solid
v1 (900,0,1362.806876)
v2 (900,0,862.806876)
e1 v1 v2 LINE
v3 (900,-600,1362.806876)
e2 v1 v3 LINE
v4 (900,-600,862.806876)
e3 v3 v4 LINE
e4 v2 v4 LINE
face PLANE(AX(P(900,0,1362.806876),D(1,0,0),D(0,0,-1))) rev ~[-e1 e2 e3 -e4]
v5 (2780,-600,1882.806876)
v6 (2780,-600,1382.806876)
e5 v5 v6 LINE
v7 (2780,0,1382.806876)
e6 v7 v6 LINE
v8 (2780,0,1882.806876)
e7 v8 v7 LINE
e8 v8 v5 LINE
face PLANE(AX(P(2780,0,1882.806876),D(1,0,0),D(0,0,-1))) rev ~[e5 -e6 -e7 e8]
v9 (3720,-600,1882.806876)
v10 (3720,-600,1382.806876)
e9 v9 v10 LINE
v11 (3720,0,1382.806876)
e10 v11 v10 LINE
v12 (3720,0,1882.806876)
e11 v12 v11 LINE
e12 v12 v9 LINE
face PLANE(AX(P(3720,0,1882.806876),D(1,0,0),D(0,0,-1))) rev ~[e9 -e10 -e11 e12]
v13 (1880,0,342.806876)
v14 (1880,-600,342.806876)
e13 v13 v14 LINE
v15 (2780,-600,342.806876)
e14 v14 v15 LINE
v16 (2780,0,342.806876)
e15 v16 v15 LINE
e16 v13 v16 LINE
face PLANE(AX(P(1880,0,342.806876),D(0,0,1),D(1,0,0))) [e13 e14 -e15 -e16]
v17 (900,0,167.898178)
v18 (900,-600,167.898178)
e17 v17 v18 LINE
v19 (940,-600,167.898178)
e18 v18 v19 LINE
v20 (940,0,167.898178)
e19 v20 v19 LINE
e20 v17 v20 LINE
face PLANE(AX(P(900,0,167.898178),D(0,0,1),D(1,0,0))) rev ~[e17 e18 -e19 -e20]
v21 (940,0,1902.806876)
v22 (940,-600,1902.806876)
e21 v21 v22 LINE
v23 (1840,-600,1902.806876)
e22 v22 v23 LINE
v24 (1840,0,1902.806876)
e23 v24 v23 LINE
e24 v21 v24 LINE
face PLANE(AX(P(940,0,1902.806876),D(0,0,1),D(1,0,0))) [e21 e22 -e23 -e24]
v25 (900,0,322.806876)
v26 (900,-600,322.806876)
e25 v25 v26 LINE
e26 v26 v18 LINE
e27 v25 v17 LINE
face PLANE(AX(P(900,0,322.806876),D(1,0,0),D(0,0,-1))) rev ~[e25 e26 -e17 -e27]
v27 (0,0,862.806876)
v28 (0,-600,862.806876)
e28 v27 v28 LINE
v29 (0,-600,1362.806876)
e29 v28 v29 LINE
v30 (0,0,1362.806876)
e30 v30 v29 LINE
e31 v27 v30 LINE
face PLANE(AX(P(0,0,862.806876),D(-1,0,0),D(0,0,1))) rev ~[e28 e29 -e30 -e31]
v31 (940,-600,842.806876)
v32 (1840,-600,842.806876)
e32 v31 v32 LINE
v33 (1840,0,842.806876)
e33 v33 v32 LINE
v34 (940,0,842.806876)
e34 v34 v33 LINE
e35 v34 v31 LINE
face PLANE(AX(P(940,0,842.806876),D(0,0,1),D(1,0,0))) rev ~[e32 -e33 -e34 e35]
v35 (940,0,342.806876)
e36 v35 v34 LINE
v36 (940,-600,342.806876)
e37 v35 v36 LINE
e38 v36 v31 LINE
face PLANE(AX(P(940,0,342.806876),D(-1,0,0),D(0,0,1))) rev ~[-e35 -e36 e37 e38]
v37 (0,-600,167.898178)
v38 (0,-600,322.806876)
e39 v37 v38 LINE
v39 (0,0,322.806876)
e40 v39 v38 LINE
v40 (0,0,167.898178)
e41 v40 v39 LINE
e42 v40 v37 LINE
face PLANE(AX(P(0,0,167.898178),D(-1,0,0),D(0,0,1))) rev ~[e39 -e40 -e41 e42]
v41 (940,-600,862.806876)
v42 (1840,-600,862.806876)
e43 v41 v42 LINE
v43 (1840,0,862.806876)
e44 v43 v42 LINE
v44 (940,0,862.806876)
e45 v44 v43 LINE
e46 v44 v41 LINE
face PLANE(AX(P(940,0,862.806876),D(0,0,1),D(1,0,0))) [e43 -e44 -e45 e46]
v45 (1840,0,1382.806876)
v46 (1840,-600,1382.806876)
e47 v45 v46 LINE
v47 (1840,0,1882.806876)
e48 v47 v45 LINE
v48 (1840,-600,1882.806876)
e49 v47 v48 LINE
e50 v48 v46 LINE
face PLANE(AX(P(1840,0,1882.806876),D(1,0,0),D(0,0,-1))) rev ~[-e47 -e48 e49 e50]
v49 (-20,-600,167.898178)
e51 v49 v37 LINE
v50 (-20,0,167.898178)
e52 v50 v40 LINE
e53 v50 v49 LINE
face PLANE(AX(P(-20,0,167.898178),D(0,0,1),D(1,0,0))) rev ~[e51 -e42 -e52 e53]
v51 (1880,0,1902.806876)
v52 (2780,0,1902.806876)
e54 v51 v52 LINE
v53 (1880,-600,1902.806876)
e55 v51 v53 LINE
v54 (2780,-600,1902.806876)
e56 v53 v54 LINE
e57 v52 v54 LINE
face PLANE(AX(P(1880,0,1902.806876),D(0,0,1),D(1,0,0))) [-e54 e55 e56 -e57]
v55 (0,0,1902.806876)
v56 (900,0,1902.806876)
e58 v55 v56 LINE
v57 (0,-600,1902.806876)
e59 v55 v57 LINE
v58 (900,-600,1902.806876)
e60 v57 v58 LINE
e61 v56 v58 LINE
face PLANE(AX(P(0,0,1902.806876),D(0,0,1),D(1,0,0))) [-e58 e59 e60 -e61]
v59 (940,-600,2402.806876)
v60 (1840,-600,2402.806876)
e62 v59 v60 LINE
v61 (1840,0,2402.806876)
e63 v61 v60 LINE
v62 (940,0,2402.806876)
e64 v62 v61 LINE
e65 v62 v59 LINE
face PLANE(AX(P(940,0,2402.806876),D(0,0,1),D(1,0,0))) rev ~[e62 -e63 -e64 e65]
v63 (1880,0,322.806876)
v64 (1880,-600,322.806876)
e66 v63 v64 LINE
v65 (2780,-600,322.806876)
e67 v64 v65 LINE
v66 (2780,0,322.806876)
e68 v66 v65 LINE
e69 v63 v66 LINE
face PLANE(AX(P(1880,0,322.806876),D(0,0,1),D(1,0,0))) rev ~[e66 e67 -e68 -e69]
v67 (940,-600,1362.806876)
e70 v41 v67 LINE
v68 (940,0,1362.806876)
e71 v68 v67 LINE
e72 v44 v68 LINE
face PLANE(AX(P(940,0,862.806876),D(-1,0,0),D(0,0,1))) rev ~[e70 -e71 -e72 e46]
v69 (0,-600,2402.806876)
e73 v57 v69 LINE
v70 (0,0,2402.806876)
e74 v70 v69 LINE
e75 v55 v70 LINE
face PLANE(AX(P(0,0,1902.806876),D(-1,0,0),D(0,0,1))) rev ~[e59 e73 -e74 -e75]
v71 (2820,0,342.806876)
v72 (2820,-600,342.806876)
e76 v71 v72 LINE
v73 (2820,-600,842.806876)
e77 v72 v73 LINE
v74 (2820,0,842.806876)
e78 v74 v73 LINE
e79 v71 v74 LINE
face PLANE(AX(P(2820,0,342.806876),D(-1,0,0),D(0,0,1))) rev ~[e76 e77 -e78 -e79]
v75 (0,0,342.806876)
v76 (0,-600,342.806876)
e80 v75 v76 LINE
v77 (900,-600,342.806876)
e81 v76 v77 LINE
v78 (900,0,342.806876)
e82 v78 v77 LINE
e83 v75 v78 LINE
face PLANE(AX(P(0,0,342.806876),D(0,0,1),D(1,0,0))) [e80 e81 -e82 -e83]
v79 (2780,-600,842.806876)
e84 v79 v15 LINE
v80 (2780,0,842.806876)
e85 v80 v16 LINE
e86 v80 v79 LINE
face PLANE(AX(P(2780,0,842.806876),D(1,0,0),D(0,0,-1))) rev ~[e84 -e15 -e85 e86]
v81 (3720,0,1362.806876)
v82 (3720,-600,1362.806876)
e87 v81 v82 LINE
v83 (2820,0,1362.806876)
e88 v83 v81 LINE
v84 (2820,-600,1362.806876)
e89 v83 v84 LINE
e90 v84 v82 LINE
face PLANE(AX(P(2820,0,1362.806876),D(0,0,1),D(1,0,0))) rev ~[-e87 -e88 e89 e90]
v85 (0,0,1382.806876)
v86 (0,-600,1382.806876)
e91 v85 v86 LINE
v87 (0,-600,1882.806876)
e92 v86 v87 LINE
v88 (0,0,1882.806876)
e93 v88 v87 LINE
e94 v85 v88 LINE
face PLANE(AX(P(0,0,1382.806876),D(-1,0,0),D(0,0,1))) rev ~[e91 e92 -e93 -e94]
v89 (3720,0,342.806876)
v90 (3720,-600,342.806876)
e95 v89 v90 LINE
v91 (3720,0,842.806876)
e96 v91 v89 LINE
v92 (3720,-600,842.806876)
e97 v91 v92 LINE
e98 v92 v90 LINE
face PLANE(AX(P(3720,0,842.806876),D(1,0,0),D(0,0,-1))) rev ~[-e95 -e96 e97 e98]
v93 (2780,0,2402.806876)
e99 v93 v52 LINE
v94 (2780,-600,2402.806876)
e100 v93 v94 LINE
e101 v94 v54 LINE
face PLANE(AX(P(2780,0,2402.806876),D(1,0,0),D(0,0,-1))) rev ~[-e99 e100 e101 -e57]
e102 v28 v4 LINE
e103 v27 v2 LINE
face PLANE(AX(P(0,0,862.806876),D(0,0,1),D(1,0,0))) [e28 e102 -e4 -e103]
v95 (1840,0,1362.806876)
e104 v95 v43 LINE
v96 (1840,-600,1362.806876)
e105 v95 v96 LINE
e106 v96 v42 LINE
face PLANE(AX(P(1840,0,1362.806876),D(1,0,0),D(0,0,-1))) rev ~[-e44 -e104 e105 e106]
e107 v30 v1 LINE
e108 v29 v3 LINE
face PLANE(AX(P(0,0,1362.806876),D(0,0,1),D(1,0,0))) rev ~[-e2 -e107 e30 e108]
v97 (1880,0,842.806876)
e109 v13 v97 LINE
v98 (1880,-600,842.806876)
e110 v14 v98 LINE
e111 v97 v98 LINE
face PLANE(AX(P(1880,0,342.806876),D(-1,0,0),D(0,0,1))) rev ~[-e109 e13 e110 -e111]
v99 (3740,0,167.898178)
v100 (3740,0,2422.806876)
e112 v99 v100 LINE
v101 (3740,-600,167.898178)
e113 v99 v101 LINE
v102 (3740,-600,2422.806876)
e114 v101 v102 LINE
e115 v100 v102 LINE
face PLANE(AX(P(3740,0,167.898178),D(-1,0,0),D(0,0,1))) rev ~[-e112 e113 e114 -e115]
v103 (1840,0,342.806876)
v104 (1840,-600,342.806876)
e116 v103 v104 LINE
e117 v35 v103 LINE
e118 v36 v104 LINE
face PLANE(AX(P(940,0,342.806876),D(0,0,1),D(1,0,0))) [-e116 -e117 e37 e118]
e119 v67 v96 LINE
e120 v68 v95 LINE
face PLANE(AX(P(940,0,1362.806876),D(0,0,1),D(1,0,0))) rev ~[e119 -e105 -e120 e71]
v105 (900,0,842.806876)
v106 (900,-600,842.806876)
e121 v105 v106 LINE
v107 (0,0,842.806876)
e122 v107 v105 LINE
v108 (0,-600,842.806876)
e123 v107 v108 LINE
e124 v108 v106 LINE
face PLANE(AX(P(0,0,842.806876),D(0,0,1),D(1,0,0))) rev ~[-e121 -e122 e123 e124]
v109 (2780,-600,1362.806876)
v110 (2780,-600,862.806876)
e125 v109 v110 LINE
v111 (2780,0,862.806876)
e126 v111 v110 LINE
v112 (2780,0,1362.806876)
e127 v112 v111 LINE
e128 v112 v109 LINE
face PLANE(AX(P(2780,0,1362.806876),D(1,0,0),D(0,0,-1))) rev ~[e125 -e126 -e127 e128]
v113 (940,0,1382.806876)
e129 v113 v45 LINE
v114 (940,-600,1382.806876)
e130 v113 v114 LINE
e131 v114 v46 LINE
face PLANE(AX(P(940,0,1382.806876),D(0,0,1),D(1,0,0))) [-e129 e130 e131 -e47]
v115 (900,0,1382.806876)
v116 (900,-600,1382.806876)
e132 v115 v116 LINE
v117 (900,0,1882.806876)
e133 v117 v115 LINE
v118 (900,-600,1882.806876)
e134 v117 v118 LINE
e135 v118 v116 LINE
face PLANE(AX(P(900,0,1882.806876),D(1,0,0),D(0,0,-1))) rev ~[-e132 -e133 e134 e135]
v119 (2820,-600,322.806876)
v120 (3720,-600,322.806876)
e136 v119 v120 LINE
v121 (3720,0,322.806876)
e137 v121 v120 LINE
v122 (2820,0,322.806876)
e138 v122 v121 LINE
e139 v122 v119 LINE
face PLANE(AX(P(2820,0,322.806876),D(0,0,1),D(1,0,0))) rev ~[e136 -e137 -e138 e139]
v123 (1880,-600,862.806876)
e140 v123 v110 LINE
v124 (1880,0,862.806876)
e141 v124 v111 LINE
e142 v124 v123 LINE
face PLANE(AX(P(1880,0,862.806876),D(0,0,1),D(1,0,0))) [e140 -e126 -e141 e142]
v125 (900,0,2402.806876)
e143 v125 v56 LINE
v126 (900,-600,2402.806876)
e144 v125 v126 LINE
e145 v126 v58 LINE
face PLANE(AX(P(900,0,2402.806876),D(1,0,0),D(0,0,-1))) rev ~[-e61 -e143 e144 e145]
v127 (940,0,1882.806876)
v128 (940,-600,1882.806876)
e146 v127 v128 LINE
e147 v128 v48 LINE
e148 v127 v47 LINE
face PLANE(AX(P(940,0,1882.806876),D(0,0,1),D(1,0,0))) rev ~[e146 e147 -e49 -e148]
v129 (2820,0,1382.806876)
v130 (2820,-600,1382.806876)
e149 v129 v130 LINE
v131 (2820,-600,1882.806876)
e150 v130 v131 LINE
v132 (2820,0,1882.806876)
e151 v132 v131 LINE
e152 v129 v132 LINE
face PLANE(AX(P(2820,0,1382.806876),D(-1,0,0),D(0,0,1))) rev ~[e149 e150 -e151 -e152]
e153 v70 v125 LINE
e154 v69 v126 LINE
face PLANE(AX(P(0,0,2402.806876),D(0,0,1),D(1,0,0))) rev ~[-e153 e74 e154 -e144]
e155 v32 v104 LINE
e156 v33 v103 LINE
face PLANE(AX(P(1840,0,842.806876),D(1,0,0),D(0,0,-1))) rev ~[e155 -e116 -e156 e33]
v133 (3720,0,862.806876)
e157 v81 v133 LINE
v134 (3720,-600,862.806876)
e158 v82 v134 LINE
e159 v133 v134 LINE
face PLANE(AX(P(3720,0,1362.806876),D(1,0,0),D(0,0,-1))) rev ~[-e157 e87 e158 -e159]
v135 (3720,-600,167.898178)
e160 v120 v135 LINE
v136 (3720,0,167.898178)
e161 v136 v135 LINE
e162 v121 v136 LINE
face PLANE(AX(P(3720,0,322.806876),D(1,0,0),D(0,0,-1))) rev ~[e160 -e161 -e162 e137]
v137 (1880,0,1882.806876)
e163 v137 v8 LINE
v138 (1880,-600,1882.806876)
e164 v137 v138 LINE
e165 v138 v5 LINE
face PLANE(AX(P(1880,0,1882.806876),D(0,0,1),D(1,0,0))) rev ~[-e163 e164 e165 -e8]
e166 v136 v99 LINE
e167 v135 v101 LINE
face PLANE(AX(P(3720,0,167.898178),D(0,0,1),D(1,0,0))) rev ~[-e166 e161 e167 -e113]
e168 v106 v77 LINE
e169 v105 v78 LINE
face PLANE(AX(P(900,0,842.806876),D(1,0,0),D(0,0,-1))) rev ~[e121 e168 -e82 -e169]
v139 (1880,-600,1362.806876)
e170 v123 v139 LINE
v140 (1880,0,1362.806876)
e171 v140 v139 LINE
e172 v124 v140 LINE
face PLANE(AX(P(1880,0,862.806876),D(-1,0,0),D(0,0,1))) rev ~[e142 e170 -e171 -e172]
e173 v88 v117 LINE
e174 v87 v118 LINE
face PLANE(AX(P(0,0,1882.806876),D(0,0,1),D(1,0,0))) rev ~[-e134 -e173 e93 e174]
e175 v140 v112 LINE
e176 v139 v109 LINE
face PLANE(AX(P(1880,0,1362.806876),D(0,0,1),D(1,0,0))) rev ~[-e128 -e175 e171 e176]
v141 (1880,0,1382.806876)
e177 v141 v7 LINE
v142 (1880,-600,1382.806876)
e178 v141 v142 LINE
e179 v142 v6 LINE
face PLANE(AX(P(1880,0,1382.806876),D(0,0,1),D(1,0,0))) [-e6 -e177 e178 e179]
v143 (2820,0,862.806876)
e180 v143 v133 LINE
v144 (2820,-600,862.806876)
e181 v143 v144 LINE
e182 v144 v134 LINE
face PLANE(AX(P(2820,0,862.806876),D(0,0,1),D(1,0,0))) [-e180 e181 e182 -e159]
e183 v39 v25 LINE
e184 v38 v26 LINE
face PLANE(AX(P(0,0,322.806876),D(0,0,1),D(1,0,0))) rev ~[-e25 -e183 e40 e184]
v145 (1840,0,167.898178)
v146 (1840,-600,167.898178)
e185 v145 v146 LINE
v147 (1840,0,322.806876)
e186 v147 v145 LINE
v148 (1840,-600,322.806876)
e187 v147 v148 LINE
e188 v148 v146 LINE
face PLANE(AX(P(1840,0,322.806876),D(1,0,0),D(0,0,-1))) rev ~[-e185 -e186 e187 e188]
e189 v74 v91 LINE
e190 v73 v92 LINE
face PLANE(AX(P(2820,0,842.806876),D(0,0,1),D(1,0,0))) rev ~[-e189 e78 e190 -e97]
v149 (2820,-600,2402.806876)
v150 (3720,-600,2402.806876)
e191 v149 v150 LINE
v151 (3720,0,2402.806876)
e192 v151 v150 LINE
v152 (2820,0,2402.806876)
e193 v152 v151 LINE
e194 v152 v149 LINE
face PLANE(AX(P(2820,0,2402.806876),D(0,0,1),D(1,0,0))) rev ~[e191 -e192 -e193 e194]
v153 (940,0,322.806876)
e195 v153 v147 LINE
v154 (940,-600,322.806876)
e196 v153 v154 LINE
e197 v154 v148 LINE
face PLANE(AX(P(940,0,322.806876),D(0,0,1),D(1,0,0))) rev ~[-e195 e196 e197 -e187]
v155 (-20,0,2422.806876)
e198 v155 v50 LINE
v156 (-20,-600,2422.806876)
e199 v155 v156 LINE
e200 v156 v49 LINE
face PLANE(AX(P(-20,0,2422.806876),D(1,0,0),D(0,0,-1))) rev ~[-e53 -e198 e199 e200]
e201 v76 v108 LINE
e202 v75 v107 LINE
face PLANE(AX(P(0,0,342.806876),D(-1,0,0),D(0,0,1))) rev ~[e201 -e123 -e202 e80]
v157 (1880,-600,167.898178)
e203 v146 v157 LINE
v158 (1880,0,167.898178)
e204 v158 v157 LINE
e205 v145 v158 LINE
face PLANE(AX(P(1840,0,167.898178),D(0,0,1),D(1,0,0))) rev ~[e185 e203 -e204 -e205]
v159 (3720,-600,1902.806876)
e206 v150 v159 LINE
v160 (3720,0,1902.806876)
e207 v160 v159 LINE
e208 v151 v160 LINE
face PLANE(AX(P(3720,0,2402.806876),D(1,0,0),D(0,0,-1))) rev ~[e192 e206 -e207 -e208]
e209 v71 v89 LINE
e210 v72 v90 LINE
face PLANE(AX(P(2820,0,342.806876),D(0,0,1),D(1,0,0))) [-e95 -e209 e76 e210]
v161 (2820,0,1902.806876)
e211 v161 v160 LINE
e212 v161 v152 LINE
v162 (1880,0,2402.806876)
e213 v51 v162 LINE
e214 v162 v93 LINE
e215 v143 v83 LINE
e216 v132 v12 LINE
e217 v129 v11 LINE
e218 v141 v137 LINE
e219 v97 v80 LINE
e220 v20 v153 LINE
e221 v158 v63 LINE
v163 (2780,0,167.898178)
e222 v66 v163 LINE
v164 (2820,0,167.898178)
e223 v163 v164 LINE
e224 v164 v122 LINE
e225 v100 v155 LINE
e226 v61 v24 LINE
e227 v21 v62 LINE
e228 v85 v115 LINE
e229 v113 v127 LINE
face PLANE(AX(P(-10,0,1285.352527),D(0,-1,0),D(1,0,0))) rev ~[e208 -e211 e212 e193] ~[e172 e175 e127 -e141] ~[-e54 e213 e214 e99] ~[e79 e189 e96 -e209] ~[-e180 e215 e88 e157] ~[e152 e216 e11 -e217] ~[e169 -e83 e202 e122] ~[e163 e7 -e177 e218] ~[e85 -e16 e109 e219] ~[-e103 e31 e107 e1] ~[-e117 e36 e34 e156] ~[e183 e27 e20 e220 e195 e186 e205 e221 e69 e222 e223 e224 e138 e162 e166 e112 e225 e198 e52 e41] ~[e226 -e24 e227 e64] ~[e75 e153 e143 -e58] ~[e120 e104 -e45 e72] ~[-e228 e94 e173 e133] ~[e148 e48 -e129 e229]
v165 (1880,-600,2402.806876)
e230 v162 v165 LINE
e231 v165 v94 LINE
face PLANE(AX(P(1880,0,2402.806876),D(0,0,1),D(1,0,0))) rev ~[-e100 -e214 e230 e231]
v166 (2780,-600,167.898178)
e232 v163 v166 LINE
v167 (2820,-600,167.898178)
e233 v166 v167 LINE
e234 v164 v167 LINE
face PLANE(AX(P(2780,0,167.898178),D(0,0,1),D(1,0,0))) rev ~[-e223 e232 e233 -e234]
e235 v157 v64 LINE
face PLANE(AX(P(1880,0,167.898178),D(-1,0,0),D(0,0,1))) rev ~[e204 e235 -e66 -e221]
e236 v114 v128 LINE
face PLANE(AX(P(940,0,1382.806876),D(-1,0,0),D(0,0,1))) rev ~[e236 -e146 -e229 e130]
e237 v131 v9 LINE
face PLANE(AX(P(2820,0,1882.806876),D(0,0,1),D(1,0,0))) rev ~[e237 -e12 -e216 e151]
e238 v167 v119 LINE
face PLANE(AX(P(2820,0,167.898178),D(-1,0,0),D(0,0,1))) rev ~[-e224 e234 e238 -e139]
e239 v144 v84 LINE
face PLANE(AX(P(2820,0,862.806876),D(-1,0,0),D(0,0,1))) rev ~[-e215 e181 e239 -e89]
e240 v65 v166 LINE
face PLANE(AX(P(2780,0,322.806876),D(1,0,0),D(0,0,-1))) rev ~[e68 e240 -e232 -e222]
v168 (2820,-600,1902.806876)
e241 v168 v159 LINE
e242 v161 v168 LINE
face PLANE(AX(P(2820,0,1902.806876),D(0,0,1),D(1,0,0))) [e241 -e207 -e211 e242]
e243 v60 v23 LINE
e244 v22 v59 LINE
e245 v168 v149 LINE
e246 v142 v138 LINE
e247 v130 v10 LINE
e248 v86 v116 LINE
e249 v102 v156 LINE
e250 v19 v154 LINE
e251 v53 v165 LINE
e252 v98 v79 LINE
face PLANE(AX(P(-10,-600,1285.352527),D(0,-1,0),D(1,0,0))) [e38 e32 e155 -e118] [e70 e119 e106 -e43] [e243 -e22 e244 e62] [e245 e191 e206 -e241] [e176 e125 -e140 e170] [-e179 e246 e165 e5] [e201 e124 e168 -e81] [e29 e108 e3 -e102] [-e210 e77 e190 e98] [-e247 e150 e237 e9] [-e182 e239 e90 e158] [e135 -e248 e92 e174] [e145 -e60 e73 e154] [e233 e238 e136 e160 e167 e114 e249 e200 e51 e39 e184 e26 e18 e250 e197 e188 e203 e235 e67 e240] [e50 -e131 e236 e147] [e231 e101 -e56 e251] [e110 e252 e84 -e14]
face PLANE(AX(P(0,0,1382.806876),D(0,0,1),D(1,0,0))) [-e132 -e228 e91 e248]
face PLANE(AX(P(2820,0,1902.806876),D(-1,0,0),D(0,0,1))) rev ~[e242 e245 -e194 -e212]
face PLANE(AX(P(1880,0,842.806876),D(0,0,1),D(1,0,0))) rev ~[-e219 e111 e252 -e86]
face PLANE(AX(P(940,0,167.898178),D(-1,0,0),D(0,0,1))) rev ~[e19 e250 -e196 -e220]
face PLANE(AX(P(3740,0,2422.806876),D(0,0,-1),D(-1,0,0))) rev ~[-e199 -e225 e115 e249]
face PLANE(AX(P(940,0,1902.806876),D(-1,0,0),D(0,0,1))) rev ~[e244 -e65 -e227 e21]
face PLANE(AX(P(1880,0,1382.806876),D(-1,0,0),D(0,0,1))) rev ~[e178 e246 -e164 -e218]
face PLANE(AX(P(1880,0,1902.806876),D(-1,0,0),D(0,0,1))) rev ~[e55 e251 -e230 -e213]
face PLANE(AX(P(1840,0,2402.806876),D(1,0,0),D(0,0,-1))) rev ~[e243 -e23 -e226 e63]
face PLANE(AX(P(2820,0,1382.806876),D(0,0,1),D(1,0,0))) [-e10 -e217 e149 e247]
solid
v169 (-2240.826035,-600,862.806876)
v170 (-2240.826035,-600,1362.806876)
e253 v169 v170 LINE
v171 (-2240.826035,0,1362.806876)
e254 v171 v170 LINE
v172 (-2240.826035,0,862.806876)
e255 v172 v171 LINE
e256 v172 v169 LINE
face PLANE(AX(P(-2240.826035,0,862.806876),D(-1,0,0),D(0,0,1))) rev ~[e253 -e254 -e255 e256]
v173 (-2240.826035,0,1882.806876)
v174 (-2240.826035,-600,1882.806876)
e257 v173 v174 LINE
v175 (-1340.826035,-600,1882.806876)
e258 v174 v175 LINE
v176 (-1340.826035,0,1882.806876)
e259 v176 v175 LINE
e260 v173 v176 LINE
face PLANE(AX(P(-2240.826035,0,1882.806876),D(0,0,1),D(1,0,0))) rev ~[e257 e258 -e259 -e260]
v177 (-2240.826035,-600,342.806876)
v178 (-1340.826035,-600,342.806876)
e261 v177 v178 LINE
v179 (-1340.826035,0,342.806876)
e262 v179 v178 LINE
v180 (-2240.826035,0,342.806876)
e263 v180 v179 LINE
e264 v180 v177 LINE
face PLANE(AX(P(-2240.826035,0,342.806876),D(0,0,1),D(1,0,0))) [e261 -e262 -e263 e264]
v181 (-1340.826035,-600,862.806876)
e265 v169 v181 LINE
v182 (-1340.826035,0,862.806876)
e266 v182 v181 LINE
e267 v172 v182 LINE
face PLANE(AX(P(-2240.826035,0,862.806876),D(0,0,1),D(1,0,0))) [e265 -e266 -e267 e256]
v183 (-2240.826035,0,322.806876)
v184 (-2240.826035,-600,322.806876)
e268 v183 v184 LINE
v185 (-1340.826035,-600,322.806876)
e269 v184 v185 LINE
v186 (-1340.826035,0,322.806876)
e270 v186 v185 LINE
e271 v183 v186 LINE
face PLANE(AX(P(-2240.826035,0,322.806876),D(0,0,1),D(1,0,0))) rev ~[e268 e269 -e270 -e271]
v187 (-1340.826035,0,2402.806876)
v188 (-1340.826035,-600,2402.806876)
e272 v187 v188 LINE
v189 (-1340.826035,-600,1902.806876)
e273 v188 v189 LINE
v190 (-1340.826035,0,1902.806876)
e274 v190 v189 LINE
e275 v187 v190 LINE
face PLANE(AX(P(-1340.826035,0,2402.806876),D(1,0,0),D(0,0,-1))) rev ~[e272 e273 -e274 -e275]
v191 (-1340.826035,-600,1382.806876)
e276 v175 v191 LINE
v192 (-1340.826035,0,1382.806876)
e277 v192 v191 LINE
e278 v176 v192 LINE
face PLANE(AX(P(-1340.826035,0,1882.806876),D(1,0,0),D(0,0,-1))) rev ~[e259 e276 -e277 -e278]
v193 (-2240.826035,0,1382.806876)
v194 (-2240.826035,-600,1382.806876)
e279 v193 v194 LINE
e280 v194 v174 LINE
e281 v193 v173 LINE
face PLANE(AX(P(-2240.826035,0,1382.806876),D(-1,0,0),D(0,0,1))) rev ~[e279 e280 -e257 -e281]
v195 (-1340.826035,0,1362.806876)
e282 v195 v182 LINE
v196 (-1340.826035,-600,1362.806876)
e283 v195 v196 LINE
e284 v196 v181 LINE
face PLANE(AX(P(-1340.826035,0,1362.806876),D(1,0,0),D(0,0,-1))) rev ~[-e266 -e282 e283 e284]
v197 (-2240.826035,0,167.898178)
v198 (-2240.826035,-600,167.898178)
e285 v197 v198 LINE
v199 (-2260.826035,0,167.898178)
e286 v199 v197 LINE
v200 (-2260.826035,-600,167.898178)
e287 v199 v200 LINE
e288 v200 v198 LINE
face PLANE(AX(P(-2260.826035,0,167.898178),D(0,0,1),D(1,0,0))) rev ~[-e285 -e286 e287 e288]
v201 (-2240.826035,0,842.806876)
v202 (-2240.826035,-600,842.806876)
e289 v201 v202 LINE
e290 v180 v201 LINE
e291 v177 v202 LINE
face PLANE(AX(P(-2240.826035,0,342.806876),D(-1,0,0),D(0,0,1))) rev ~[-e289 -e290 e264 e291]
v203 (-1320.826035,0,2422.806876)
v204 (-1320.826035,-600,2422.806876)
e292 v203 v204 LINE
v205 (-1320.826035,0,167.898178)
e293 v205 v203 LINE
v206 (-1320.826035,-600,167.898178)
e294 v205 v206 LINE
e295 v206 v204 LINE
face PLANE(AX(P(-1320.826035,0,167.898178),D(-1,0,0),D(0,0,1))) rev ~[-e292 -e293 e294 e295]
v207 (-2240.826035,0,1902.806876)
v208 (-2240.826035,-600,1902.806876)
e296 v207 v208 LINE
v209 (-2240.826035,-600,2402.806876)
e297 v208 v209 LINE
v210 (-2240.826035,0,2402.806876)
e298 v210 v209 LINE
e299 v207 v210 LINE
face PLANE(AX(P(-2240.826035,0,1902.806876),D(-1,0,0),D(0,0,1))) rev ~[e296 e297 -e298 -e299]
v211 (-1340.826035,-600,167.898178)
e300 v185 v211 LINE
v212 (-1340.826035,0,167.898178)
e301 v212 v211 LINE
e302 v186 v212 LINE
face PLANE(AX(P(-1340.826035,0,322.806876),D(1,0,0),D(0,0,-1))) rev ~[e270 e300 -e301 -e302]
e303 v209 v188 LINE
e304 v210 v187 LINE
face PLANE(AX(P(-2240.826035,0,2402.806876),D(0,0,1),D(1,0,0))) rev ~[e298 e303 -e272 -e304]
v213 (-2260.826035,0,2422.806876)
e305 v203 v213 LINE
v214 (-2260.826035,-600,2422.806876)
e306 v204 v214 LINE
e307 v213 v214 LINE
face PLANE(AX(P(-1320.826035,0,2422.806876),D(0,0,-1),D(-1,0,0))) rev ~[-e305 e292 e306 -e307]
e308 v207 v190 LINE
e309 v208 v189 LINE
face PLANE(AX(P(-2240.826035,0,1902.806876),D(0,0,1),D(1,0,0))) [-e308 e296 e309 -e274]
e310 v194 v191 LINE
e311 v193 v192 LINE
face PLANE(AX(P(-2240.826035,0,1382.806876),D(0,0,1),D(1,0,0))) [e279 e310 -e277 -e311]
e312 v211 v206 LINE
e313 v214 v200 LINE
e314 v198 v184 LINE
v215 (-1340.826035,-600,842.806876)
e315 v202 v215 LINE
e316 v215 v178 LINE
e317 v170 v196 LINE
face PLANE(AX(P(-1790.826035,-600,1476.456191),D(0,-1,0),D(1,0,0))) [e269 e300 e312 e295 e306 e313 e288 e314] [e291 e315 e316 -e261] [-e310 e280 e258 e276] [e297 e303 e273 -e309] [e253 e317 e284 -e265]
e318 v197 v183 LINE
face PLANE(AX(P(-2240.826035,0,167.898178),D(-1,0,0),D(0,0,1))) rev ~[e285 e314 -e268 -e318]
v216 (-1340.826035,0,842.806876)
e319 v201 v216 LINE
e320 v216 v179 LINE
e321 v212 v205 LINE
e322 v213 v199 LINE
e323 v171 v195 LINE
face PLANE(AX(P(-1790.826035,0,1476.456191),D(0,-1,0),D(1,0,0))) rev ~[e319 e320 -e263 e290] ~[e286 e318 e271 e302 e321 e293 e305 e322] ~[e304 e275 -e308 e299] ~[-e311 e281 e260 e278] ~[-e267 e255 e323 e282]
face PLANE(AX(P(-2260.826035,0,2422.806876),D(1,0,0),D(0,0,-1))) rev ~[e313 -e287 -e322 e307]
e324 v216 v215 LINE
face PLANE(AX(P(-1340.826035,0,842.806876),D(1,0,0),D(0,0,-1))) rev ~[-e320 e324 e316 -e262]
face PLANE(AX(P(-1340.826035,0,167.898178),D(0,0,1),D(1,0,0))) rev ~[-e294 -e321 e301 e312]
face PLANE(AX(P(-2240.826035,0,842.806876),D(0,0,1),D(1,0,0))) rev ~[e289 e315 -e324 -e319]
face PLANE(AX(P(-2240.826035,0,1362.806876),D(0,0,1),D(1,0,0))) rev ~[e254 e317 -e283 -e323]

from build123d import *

# Parameters (mm, degrees)
F0_W     = 900
F0_H     = 20
F1_DEPTH = 600


with BuildPart() as f1:
    # F0 (on Front) → F1 (new body)
    with BuildSketch(Plane.XZ):
        Polygon((0, 342.806876), (0, 842.806876), (0, 862.806876), (0, 1362.806876), (0, 1382.806876), (0, 1882.806876), (0, 1902.806876), (0, 2402.806876), (-20, 2402.806876), (-20, 167.898178), (0, 167.898178), (0, 322.806876), align=None)
        Polygon((2800, 167.898178), (2800, 2402.806876), (2780, 2402.806876), (2780, 1902.806876), (2780, 1882.806876), (2780, 1382.806876), (2780, 1362.806876), (2780, 862.806876), (2780, 842.806876), (2780, 342.806876), (2780, 322.806876), (2780, 167.898178), align=None)
        Polygon((1880, 2402.806876), (1860, 2402.806876), (1860, 167.898178), (1880, 167.898178), (1880, 322.806876), (1880, 342.806876), (1880, 842.806876), (1880, 862.806876), (1880, 1362.806876), (1880, 1382.806876), (1880, 1882.806876), (1880, 1902.806876), align=None)
        with Locations((3270, 852.806876)):
            Rectangle(F0_W, F0_H)
        Polygon((900, 862.806876), (900, 842.806876), (900, 342.806876), (900, 322.806876), (900, 167.898178), (920, 167.898178), (920, 2402.806876), (900, 2402.806876), (900, 1902.806876), (900, 1882.806876), (900, 1382.806876), (900, 1362.806876), align=None)
        with Locations((1390, 852.806876)):
            Rectangle(F0_W, F0_H)
        with Locations((2330, 1372.806876)):
            Rectangle(F0_W, F0_H)
        with Locations((450, 1372.806876)):
            Rectangle(F0_W, F0_H)
        with Locations((450, 852.806876)):
            Rectangle(F0_W, F0_H)
        with Locations((3270, 1372.806876)):
            Rectangle(F0_W, F0_H)
        with Locations((2330, 852.806876)):
            Rectangle(F0_W, F0_H)
        with Locations((1390, 1372.806876)):
            Rectangle(F0_W, F0_H)
        Polygon((2800, 2422.806876), (1860, 2422.806876), (1860, 2402.806876), (1880, 2402.806876), (2780, 2402.806876), (2800, 2402.806876), align=None)
        Polygon((3740, 2422.806876), (2800, 2422.806876), (2800, 2402.806876), (2820, 2402.806876), (3720, 2402.806876), (3740, 2402.806876), align=None)
        Polygon((920, 2402.806876), (920, 167.898178), (940, 167.898178), (940, 322.806876), (940, 342.806876), (940, 842.806876), (940, 862.806876), (940, 1362.806876), (940, 1382.806876), (940, 1882.806876), (940, 1902.806876), (940, 2402.806876), align=None)
        Polygon((2820, 2402.806876), (2800, 2402.806876), (2800, 167.898178), (2820, 167.898178), (2820, 322.806876), (2820, 342.806876), (2820, 842.806876), (2820, 862.806876), (2820, 1362.806876), (2820, 1382.806876), (2820, 1882.806876), (2820, 1902.806876), align=None)
        Polygon((3740, 167.898178), (3740, 2402.806876), (3720, 2402.806876), (3720, 1902.806876), (3720, 1882.806876), (3720, 1382.806876), (3720, 1362.806876), (3720, 862.806876), (3720, 842.806876), (3720, 342.806876), (3720, 322.806876), (3720, 167.898178), align=None)
        Polygon((-20, 2422.806876), (-20, 2402.806876), (0, 2402.806876), (900, 2402.806876), (920, 2402.806876), (920, 2422.806876), align=None)
        Polygon((920, 2422.806876), (920, 2402.806876), (940, 2402.806876), (1840, 2402.806876), (1860, 2402.806876), (1860, 2422.806876), align=None)
        with Locations((1390, 332.806876)):
            Rectangle(F0_W, F0_H)
        with Locations((3270, 332.806876)):
            Rectangle(F0_W, F0_H)
        Polygon((1860, 2402.806876), (1840, 2402.806876), (1840, 1902.806876), (1840, 1882.806876), (1840, 1382.806876), (1840, 1362.806876), (1840, 862.806876), (1840, 842.806876), (1840, 342.806876), (1840, 322.806876), (1840, 167.898178), (1860, 167.898178), align=None)
        with Locations((2330, 332.806876)):
            Rectangle(F0_W, F0_H)
        with Locations((450, 332.806876)):
            Rectangle(F0_W, F0_H)
        with Locations((450, 1892.806876)):
            Rectangle(F0_W, F0_H)
        with Locations((2330, 1892.806876)):
            Rectangle(F0_W, F0_H)
        with Locations((3270, 1892.806876)):
            Rectangle(F0_W, F0_H)
        with Locations((1390, 1892.806876)):
            Rectangle(F0_W, F0_H)
        Polygon((-2240.826035, 862.806876), (-2240.826035, 1362.806876), (-2240.826035, 1382.806876), (-2240.826035, 1882.806876), (-2240.826035, 1902.806876), (-2240.826035, 2402.806876), (-1340.826035, 2402.806876), (-1340.826035, 1902.806876), (-1340.826035, 1882.806876), (-1340.826035, 1382.806876), (-1340.826035, 1362.806876), (-1340.826035, 862.806876), (-1340.826035, 842.806876), (-1340.826035, 342.806876), (-1340.826035, 322.806876), (-1340.826035, 167.898178), (-1320.826035, 167.898178), (-1320.826035, 2402.806876), (-1320.826035, 2422.806876), (-2260.826035, 2422.806876), (-2260.826035, 2402.806876), (-2260.826035, 167.898178), (-2240.826035, 167.898178), (-2240.826035, 322.806876), (-2240.826035, 342.806876), (-2240.826035, 842.806876), align=None)
        with Locations((-1790.826035, 332.806876)):
            Rectangle(F0_W, F0_H)
        with Locations((-1790.826035, 852.806876)):
            Rectangle(F0_W, F0_H)
        with Locations((-1790.826035, 1372.806876)):
            Rectangle(F0_W, F0_H)
        with Locations((-1790.826035, 1892.806876)):
            Rectangle(F0_W, F0_H)
    extrude(amount=F1_DEPTH)


solid = f1.part
